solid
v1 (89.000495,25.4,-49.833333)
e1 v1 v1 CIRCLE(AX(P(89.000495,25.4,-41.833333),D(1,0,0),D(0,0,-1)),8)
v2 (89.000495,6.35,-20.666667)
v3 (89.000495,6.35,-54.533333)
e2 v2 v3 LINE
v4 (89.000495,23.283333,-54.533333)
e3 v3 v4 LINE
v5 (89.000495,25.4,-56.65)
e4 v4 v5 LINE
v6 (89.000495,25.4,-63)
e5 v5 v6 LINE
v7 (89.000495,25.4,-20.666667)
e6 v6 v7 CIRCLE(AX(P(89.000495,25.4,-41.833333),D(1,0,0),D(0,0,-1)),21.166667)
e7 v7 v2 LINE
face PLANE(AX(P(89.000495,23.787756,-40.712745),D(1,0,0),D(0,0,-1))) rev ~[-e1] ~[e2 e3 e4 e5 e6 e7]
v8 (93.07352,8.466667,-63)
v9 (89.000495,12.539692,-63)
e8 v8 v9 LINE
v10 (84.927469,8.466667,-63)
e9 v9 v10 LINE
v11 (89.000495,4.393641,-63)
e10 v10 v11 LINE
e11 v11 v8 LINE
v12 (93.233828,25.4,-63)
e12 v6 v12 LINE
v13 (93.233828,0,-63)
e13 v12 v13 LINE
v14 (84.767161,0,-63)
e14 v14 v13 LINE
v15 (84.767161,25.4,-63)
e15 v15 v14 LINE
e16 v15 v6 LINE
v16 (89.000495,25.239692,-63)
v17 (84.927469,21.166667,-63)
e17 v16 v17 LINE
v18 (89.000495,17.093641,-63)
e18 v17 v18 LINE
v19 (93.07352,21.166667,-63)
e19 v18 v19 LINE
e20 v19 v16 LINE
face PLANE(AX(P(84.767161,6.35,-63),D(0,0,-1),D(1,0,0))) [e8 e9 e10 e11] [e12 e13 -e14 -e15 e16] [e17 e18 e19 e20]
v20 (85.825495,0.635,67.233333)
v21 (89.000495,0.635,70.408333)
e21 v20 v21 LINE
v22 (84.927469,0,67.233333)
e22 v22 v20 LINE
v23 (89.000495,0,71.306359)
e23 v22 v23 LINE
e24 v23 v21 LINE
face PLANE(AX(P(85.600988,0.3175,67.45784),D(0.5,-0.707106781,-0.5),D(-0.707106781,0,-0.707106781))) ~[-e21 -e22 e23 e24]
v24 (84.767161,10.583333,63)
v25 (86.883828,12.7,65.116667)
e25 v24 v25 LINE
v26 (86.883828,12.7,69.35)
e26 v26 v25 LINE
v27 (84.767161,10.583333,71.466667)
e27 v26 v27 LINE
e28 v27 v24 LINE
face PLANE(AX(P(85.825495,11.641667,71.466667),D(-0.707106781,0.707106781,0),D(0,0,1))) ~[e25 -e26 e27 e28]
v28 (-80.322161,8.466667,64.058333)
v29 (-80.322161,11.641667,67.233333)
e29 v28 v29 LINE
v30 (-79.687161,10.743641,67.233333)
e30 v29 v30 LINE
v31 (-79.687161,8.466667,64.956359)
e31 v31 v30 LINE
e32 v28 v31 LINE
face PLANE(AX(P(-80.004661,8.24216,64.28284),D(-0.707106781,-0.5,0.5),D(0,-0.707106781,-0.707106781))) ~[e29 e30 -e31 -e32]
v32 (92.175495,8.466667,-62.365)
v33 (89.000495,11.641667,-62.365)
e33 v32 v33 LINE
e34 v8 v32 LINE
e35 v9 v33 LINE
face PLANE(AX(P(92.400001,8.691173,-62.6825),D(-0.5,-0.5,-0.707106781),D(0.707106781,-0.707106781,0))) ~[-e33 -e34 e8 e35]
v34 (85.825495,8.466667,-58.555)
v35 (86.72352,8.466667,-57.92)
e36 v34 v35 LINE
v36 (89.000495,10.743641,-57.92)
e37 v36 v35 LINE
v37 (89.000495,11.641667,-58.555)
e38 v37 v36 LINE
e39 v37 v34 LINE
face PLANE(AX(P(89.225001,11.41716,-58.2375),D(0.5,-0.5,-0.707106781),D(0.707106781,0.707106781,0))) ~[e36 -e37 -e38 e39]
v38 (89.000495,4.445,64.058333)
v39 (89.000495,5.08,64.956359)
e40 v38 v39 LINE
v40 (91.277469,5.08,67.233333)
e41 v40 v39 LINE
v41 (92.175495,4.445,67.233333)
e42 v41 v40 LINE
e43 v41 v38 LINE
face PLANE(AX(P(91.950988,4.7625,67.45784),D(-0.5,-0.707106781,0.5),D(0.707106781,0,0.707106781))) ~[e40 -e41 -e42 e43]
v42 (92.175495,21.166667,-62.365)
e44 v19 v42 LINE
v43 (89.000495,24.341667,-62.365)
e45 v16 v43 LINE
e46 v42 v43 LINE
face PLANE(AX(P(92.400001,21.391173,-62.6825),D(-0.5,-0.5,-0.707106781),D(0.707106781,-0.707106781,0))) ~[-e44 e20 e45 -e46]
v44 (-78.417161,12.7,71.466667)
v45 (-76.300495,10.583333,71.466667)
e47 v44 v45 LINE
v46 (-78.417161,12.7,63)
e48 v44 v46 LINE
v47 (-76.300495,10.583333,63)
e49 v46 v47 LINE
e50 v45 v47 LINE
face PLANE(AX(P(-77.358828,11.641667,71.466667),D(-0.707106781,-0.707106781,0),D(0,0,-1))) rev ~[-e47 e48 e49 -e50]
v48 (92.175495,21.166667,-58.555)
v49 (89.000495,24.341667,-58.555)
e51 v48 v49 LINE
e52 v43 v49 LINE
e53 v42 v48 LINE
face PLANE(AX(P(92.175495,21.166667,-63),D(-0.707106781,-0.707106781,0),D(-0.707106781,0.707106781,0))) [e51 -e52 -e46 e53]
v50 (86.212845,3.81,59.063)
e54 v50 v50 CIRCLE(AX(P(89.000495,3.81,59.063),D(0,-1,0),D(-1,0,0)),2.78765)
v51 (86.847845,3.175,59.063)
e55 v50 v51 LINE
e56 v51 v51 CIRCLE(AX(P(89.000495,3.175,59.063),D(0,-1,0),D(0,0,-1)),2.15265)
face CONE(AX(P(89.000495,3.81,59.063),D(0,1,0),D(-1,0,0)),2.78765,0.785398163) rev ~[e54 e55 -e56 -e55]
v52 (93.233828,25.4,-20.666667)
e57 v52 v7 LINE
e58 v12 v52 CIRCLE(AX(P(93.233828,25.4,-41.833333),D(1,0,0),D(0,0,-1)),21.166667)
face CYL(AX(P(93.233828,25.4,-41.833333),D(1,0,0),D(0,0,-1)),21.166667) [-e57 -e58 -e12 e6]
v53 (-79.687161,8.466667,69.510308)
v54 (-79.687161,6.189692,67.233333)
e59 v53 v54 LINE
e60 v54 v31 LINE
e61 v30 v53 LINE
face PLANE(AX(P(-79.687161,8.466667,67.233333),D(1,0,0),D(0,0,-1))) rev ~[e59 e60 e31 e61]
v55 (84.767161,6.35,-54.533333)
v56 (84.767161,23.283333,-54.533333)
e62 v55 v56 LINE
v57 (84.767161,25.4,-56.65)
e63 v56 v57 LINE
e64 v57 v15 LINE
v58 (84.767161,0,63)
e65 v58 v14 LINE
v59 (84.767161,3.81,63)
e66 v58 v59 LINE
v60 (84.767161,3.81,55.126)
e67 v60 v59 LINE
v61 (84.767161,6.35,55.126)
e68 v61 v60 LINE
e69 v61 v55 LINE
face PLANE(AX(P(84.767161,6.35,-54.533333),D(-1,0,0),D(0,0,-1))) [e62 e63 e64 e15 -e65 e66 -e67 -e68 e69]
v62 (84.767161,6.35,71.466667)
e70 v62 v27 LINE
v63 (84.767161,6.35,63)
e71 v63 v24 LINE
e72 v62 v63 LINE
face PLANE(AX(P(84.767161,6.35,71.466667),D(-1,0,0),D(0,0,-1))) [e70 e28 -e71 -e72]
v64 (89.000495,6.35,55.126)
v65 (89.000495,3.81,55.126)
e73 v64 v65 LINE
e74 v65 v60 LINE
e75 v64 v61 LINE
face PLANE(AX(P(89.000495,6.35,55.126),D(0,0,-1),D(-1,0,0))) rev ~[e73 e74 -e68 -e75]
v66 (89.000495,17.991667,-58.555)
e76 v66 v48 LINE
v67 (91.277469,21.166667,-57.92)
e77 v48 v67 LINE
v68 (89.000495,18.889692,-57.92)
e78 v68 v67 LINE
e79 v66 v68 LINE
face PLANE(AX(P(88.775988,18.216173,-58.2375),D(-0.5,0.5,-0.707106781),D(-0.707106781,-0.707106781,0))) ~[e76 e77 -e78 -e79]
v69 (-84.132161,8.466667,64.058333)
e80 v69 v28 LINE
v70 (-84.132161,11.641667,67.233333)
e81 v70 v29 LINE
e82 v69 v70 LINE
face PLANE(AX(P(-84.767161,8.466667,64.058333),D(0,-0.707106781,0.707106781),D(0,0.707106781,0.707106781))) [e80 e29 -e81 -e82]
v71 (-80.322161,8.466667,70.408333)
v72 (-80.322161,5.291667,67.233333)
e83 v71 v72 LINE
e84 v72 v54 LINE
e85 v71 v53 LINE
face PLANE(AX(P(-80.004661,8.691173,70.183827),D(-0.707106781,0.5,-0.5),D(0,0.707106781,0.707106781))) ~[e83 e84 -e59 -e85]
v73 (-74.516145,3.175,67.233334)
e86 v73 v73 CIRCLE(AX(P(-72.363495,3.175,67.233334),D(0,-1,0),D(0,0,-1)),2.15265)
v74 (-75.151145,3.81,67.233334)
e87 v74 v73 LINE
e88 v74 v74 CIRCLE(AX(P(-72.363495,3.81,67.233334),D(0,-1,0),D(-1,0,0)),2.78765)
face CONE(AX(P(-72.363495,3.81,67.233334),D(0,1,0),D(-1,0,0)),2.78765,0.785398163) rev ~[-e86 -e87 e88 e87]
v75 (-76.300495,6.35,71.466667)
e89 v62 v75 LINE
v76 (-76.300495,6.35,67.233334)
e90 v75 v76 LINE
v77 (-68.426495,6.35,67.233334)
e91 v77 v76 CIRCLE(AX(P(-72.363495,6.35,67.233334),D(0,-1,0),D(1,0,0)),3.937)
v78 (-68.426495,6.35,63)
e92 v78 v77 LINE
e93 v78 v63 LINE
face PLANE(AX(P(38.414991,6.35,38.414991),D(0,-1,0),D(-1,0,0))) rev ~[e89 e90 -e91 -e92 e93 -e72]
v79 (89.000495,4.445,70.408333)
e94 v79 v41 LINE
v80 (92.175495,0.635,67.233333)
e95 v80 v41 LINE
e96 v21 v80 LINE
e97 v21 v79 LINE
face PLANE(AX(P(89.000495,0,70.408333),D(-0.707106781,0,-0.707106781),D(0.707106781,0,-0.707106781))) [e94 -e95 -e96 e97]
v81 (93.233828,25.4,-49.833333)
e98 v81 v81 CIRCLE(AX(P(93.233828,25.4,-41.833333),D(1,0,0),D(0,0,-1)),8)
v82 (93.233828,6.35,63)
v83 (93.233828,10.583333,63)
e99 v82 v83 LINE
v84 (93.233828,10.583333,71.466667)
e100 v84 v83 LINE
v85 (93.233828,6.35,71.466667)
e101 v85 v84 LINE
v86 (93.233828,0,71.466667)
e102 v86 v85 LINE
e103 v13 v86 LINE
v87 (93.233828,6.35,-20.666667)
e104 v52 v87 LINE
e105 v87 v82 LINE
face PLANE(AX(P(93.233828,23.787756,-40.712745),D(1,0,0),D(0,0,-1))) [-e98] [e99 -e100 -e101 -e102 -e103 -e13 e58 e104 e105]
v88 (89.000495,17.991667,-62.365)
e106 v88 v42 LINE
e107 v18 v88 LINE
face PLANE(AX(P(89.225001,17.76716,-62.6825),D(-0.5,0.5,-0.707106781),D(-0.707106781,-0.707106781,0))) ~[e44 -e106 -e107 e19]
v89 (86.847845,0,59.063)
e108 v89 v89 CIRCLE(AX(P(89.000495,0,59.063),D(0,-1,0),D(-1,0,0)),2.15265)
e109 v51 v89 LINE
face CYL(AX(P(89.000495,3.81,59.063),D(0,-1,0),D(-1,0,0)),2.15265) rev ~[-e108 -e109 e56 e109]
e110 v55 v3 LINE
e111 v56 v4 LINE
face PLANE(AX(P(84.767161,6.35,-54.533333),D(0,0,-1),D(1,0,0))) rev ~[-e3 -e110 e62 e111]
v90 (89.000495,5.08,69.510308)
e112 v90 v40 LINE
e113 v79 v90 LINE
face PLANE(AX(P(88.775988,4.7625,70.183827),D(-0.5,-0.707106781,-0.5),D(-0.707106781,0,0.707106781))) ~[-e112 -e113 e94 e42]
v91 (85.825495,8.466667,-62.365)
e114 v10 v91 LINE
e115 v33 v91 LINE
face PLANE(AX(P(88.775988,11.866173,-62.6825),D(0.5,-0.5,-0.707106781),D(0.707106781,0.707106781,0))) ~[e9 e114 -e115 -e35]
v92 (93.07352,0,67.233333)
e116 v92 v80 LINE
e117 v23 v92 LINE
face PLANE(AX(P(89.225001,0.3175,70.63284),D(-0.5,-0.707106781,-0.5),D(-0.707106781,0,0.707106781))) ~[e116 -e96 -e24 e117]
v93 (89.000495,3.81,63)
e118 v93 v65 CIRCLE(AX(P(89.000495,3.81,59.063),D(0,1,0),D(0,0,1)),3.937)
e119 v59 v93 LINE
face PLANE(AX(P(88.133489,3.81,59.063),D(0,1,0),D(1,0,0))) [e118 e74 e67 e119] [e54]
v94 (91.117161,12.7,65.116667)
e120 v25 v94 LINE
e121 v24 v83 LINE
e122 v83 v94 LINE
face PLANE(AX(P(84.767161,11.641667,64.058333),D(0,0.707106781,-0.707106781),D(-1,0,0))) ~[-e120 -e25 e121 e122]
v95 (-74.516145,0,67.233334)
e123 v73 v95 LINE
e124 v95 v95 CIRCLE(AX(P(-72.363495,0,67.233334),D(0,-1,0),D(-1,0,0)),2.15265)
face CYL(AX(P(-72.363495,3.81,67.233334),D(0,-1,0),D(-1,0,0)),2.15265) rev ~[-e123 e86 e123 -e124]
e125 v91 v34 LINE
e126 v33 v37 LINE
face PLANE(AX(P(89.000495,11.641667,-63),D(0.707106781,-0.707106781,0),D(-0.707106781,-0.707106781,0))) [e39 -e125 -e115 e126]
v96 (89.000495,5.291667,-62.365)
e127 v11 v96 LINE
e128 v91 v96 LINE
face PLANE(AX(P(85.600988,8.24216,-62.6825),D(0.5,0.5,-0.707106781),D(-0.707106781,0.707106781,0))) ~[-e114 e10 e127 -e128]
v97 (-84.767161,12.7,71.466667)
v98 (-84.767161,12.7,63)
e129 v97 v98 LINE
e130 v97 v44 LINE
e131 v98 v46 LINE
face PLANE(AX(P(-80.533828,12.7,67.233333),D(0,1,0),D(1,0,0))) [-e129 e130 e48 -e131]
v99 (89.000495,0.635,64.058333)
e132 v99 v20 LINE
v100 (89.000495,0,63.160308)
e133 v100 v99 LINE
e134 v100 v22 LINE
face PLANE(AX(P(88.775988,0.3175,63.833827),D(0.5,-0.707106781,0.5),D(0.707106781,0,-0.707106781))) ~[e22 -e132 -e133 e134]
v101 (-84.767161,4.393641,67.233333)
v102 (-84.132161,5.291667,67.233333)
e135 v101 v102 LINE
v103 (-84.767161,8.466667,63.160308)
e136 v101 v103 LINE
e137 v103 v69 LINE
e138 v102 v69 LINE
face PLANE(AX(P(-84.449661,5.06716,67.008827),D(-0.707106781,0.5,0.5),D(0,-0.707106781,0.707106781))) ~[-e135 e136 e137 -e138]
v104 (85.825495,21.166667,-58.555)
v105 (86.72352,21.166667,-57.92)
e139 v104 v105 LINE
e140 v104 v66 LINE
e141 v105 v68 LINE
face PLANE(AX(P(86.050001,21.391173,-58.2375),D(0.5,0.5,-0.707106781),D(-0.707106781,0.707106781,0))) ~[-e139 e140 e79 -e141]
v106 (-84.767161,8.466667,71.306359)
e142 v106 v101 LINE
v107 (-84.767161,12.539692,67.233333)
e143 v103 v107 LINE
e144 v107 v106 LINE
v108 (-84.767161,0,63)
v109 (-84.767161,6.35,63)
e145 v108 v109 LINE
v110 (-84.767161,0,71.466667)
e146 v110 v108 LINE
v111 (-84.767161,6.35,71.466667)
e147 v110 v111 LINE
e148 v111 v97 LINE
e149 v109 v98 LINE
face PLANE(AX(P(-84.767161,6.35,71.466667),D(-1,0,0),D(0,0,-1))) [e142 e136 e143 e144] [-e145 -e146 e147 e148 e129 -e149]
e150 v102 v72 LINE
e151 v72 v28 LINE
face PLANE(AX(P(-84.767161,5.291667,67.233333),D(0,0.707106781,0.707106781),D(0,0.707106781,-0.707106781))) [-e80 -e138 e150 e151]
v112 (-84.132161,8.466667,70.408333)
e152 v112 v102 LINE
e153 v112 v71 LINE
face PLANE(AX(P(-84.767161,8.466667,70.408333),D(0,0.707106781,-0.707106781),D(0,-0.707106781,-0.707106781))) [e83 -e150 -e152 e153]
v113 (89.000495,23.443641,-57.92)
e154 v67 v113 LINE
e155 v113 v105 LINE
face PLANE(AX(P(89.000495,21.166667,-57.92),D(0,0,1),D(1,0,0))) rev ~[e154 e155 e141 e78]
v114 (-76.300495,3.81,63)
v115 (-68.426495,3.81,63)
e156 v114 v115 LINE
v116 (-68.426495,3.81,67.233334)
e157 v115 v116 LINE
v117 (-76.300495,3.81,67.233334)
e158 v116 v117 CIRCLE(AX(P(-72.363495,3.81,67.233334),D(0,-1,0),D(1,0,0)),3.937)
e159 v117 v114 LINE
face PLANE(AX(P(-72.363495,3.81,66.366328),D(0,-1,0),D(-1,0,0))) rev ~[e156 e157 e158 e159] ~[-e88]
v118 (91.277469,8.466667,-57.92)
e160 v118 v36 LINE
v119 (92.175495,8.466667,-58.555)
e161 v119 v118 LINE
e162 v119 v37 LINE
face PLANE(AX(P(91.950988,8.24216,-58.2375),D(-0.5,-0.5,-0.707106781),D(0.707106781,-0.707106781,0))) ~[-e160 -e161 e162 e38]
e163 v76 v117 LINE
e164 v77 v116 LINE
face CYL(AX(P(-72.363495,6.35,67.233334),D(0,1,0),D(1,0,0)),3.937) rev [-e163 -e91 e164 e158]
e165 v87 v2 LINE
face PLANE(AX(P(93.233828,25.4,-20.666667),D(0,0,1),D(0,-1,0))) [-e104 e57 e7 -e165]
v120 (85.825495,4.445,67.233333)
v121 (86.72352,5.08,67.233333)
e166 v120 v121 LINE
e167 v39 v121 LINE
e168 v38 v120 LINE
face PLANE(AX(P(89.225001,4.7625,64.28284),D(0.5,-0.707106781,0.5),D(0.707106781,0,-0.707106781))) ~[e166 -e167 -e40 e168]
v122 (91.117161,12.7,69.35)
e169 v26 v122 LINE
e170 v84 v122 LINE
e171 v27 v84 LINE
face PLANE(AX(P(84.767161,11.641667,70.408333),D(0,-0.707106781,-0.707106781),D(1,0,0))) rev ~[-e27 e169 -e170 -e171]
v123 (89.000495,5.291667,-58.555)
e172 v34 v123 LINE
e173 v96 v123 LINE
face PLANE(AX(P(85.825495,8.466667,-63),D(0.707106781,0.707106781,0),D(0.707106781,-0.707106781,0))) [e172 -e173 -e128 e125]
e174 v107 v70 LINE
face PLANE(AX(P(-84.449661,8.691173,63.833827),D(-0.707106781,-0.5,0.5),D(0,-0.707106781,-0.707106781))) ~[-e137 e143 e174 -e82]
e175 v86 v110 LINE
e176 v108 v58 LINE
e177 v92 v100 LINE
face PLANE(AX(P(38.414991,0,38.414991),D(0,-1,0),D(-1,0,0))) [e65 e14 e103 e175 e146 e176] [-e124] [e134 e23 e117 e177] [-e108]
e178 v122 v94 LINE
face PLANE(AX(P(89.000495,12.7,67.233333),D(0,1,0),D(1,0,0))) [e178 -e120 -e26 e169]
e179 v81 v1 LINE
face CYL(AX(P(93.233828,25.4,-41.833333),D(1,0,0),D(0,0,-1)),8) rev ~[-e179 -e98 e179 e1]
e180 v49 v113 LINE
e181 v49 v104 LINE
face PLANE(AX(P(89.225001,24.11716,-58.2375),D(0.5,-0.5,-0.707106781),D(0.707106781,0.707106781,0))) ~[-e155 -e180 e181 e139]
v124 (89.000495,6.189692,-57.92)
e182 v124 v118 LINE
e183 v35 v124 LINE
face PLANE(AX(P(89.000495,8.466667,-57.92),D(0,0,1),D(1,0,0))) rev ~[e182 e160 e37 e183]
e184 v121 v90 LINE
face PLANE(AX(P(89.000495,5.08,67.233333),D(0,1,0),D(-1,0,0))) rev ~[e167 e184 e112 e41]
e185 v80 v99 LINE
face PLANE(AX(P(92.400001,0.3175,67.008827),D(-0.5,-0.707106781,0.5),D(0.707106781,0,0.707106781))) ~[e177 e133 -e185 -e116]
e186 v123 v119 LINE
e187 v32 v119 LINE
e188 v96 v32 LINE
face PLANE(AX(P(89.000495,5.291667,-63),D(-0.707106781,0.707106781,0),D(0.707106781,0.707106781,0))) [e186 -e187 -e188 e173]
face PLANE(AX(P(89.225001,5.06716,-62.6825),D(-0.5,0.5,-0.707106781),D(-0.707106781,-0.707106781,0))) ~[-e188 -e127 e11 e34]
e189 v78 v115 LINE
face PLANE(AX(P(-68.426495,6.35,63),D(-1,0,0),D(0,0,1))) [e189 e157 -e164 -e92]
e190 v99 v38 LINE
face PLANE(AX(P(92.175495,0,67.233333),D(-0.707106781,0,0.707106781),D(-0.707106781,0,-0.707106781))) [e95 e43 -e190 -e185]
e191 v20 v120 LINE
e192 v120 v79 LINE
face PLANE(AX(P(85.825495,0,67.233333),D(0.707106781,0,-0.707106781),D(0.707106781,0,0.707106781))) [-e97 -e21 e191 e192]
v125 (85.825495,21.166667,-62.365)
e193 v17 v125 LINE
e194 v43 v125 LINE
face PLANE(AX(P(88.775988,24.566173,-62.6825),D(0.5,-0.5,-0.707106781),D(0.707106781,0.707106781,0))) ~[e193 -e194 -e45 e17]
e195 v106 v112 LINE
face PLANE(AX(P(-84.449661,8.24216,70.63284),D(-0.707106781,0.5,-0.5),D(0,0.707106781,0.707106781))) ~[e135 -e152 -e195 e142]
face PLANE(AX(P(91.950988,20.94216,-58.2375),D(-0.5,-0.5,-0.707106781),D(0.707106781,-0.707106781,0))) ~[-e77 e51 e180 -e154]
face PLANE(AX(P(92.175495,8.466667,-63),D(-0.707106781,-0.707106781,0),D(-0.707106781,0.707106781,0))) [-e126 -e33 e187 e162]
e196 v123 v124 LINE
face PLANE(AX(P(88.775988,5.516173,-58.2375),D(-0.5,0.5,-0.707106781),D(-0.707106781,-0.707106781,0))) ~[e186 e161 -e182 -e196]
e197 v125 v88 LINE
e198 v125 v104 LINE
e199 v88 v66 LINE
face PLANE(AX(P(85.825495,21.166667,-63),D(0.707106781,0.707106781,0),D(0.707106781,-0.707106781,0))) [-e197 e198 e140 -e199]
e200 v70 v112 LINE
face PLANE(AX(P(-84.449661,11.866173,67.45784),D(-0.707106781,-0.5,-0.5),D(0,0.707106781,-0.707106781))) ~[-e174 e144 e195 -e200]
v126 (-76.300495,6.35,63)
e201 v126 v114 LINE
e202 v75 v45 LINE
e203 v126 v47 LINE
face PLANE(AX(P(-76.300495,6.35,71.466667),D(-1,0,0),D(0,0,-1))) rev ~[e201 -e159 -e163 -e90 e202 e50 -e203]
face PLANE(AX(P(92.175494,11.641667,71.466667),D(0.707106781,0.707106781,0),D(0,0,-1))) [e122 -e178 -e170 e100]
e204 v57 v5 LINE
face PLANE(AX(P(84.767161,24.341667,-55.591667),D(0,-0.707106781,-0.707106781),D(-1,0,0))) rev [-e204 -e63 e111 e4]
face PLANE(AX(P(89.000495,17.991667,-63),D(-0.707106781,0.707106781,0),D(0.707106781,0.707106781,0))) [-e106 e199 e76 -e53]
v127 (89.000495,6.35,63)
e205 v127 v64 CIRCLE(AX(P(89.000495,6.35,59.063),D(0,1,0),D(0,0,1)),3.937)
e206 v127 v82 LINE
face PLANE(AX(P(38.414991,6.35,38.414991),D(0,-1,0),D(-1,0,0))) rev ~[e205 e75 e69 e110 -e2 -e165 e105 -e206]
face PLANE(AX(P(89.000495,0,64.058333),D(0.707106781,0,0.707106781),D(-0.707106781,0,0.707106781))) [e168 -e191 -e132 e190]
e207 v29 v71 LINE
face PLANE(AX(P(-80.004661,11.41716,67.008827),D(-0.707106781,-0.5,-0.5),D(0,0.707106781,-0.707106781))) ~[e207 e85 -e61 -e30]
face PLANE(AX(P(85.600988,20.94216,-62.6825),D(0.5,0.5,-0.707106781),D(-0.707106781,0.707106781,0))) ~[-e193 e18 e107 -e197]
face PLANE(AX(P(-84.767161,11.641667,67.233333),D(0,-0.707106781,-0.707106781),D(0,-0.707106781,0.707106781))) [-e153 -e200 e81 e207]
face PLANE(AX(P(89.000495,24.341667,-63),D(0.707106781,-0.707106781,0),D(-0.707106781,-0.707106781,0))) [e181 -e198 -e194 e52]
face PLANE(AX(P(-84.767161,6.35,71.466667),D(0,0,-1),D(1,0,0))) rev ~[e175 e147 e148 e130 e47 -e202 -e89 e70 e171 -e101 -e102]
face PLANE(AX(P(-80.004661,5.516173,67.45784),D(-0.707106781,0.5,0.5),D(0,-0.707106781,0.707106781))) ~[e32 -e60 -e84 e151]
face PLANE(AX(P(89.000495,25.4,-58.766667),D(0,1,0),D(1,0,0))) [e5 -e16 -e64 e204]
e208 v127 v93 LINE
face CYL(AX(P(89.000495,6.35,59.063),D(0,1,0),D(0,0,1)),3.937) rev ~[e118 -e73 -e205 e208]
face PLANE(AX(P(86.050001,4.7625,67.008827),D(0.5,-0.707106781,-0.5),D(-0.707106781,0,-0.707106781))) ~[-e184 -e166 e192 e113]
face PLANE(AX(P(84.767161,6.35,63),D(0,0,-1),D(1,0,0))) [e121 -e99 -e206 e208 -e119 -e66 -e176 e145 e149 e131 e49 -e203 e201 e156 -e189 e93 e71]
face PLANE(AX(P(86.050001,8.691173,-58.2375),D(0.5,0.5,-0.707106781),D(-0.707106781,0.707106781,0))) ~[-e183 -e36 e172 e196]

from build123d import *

# Parameters (mm, degrees)
BOSS_EXTRUDE1_DEPTH                    = 6.35
SKETCH3_W                              = 8.466666667
SKETCH3_H                              = 8.466666667
SKETCH3_W_2                            = 8.466666666
BOSS_EXTRUDE2_DEPTH                    = 6.349999915
SKETCH8_W                              = 8.466666666
SKETCH8_H                              = 8.466666666
BOSS_EXTRUDE4_DEPTH                    = 19.049999915
CUT_EXTRUDE1_DEPTH                     = 5.08
CUT_EXTRUDE2_DEPTH                     = 5.08
CUT_EXTRUDE3_DEPTH                     = 5.08
CHAMFER1_SIZE                          = 0.635
SKETCH7_R                              = 8
BOSS_EXTRUDE3_DEPTH                    = 4.233333333
CHAMFER2_SIZE                          = 2.116666709
CUT_EXTRUDE5_DEPTH                     = 2.54
F_18_0_1695_DIAMETER_HOLE1_D           = 4.3053
F_18_0_1695_DIAMETER_HOLE1_DEPTH       = 4.572
F_18_0_1695_DIAMETER_HOLE1_CSINK_D     = 5.5753
F_18_0_1695_DIAMETER_HOLE1_CSINK_ANGLE = 90
F_18_0_1695_DIAMETER_HOLE1_TIP         = 1.293442612


with BuildPart() as part:
    # Sketch2 → Boss-Extrude1 (new body)
    with BuildSketch(Plane(origin=(0, 0, 0), x_dir=(1, 0, 0), z_dir=(0, 1, 0))):
        Polygon((93.233827842, 63.000000026), (93.233827842, -71.466666693), (-84.767161176, -71.466666693), (-84.767161176, -63.000000026), (84.767161176, -63.000000026), (84.767161176, 63.000000026), align=None)
    extrude(amount=BOSS_EXTRUDE1_DEPTH)

    # Sketch3 → Boss-Extrude2 (add)
    with BuildSketch(Plane(origin=(0, 6.35, 0), x_dir=(1, 0, 0), z_dir=(0, 1, 0))):
        with Locations((-80.533827843, -67.23333336)):
            Rectangle(SKETCH3_W, SKETCH3_H)
        with Locations((89.000494509, -67.23333336)):
            Rectangle(SKETCH3_W_2, SKETCH3_H)
    extrude(amount=BOSS_EXTRUDE2_DEPTH)

    # Sketch8 → Boss-Extrude4 (add)
    with BuildSketch(Plane(origin=(0, 6.35, 0), x_dir=(1, 0, 0), z_dir=(0, 1, 0))):
        with Locations((89.000494509, 58.766666693)):
            Rectangle(SKETCH8_W, SKETCH8_H)
    extrude(amount=BOSS_EXTRUDE4_DEPTH)

    # Sketch4 → Cut-Extrude1 (cut)
    with BuildSketch(Plane.ZY.offset(84.767161176)):
        Polygon((64.05833336, 8.466666667), (67.23333336, 11.641666667), (70.40833336, 8.466666667), (67.23333336, 5.291666667), align=None)
    extrude(amount=-CUT_EXTRUDE1_DEPTH, mode=Mode.SUBTRACT)

    # Sketch5 → Cut-Extrude2 (cut)
    with BuildSketch(Plane(origin=(0, 0, -63.000000026), x_dir=(-1, 0, 0), z_dir=(0, 0, -1))):
        Polygon((-92.175494509, 8.466666667), (-89.000494509, 11.641666667), (-85.825494509, 8.466666667), (-89.000494509, 5.291666667), align=None)
        Polygon((-92.175494509, 21.166666582), (-89.000494509, 24.341666582), (-85.825494509, 21.166666582), (-89.000494509, 17.991666582), align=None)
    extrude(amount=-CUT_EXTRUDE2_DEPTH, mode=Mode.SUBTRACT)

    # Sketch6 → Cut-Extrude3 (cut)
    with BuildSketch(Plane.XZ):
        Polygon((85.825494509, 67.23333336), (89.000494509, 70.40833336), (92.175494509, 67.23333336), (89.000494509, 64.05833336), align=None)
    extrude(amount=-CUT_EXTRUDE3_DEPTH, mode=Mode.SUBTRACT)

    # Chamfer1
    chamfer1_edges = [part.edges().sort_by_distance(p)[0] for p in [
        (87.412994509, 5.08, 65.64583336),
        (87.412994509, 5.08, 68.82083336),
        (90.587994509, 5.08, 68.82083336),
        (90.587994509, 5.08, 65.64583336),
        (87.412994509, 0, 65.64583336),
        (90.587994509, 0, 65.64583336),
        (90.587994509, 0, 68.82083336),
        (87.412994509, 0, 68.82083336),
        (-79.687161176, 6.879166667, 65.64583336),
        (-79.687161176, 10.054166667, 65.64583336),
        (-79.687161176, 10.054166667, 68.82083336),
        (-79.687161176, 6.879166667, 68.82083336),
        (-84.767161176, 6.879166667, 65.64583336),
        (-84.767161176, 6.879166667, 68.82083336),
        (-84.767161176, 10.054166667, 68.82083336),
        (-84.767161176, 10.054166667, 65.64583336),
        (90.587994509, 6.879166667, -57.920000026),
        (90.587994509, 10.054166667, -57.920000026),
        (87.412994509, 10.054166667, -57.920000026),
        (87.412994509, 6.879166667, -57.920000026),
        (90.587994509, 6.879166667, -63.000000026),
        (87.412994509, 6.879166667, -63.000000026),
        (87.412994509, 10.054166667, -63.000000026),
        (90.587994509, 10.054166667, -63.000000026),
        (90.587994509, 19.579166582, -57.920000026),
        (90.587994509, 22.754166582, -57.920000026),
        (87.412994509, 22.754166582, -57.920000026),
        (87.412994509, 19.579166582, -57.920000026),
        (90.587994509, 19.579166582, -63.000000026),
        (87.412994509, 19.579166582, -63.000000026),
        (87.412994509, 22.754166582, -63.000000026),
        (90.587994509, 22.754166582, -63.000000026),
    ]]
    chamfer(chamfer1_edges, length=CHAMFER1_SIZE)

    # Sketch7 → Boss-Extrude3 (add)
    with BuildSketch(Plane(origin=(93.233827842, 0, 0), x_dir=(0, 0, -1), z_dir=(1, 0, 0))):
        with BuildLine():
            Line((20.666666693, 25.399999915), (20.666666693, 6.35))
            Line((20.666666693, 6.35), (54.53333336, 6.35))
            Line((54.53333336, 6.35), (54.53333336, 25.399999915))
            Line((54.53333336, 25.399999915), (63.000000026, 25.399999915))
            ThreePointArc((63.000000026, 25.399999915), (41.83333336, 46.566666582), (20.666666693, 25.399999915))
        make_face()
        with Locations((41.83333336, 25.399999915)):
            Circle(SKETCH7_R, mode=Mode.SUBTRACT)
    extrude(amount=-BOSS_EXTRUDE3_DEPTH)

    # Chamfer2
    chamfer2_edges = [part.edges().sort_by_distance(p)[0] for p in [
        (-76.300494509, 12.699999915, 67.23333336),
        (86.883827842, 25.399999915, -54.53333336),
        (89.000494509, 12.699999915, 63.000000026),
        (93.233827842, 12.699999915, 67.23333336),
        (89.000494509, 12.699999915, 71.466666693),
        (84.767161176, 12.699999915, 67.23333336),
    ]]
    chamfer(chamfer2_edges, length=CHAMFER2_SIZE)

    # Sketch9 → Cut-Extrude5 (cut)
    with BuildSketch(Plane(origin=(0, 6.35, 0), x_dir=(1, 0, 0), z_dir=(0, 1, 0))):
        with BuildLine():
            Line((-76.300494509, -67.233333526), (-76.300494509, -63.000000026))
            Line((-76.300494509, -63.000000026), (-68.426494509, -63.000000026))
            Line((-68.426494509, -63.000000026), (-68.426494509, -67.233333526))
            ThreePointArc((-68.426494509, -67.233333526), (-72.363494509, -71.170333526), (-76.300494509, -67.233333526))
        make_face()
        with BuildLine():
            Line((89.000494676, -55.126000026), (84.767161176, -55.126000026))
            Line((84.767161176, -55.126000026), (84.767161176, -63.000000026))
            Line((84.767161176, -63.000000026), (89.000494676, -63.000000026))
            ThreePointArc((89.000494676, -63.000000026), (92.937494676, -59.063000026), (89.000494676, -55.126000026))
        make_face()
    extrude(amount=-CUT_EXTRUDE5_DEPTH, mode=Mode.SUBTRACT)

    # #18 (0.1695) Diameter Hole1
    with Locations(Plane(origin=(0, 3.81, 0), x_dir=(1, 0, 0), z_dir=(0, 1, 0))):
        with Locations((89.000494676, -59.063000026), (-72.363494509, -67.233333526)):
            CounterSinkHole(F_18_0_1695_DIAMETER_HOLE1_D / 2, F_18_0_1695_DIAMETER_HOLE1_CSINK_D / 2, depth=F_18_0_1695_DIAMETER_HOLE1_DEPTH, counter_sink_angle=F_18_0_1695_DIAMETER_HOLE1_CSINK_ANGLE)
            with Locations((0, 0, -(F_18_0_1695_DIAMETER_HOLE1_DEPTH + F_18_0_1695_DIAMETER_HOLE1_TIP / 2))):  # 118° drill point
                Cone(0, F_18_0_1695_DIAMETER_HOLE1_D / 2, F_18_0_1695_DIAMETER_HOLE1_TIP, mode=Mode.SUBTRACT)


solid = part.part
